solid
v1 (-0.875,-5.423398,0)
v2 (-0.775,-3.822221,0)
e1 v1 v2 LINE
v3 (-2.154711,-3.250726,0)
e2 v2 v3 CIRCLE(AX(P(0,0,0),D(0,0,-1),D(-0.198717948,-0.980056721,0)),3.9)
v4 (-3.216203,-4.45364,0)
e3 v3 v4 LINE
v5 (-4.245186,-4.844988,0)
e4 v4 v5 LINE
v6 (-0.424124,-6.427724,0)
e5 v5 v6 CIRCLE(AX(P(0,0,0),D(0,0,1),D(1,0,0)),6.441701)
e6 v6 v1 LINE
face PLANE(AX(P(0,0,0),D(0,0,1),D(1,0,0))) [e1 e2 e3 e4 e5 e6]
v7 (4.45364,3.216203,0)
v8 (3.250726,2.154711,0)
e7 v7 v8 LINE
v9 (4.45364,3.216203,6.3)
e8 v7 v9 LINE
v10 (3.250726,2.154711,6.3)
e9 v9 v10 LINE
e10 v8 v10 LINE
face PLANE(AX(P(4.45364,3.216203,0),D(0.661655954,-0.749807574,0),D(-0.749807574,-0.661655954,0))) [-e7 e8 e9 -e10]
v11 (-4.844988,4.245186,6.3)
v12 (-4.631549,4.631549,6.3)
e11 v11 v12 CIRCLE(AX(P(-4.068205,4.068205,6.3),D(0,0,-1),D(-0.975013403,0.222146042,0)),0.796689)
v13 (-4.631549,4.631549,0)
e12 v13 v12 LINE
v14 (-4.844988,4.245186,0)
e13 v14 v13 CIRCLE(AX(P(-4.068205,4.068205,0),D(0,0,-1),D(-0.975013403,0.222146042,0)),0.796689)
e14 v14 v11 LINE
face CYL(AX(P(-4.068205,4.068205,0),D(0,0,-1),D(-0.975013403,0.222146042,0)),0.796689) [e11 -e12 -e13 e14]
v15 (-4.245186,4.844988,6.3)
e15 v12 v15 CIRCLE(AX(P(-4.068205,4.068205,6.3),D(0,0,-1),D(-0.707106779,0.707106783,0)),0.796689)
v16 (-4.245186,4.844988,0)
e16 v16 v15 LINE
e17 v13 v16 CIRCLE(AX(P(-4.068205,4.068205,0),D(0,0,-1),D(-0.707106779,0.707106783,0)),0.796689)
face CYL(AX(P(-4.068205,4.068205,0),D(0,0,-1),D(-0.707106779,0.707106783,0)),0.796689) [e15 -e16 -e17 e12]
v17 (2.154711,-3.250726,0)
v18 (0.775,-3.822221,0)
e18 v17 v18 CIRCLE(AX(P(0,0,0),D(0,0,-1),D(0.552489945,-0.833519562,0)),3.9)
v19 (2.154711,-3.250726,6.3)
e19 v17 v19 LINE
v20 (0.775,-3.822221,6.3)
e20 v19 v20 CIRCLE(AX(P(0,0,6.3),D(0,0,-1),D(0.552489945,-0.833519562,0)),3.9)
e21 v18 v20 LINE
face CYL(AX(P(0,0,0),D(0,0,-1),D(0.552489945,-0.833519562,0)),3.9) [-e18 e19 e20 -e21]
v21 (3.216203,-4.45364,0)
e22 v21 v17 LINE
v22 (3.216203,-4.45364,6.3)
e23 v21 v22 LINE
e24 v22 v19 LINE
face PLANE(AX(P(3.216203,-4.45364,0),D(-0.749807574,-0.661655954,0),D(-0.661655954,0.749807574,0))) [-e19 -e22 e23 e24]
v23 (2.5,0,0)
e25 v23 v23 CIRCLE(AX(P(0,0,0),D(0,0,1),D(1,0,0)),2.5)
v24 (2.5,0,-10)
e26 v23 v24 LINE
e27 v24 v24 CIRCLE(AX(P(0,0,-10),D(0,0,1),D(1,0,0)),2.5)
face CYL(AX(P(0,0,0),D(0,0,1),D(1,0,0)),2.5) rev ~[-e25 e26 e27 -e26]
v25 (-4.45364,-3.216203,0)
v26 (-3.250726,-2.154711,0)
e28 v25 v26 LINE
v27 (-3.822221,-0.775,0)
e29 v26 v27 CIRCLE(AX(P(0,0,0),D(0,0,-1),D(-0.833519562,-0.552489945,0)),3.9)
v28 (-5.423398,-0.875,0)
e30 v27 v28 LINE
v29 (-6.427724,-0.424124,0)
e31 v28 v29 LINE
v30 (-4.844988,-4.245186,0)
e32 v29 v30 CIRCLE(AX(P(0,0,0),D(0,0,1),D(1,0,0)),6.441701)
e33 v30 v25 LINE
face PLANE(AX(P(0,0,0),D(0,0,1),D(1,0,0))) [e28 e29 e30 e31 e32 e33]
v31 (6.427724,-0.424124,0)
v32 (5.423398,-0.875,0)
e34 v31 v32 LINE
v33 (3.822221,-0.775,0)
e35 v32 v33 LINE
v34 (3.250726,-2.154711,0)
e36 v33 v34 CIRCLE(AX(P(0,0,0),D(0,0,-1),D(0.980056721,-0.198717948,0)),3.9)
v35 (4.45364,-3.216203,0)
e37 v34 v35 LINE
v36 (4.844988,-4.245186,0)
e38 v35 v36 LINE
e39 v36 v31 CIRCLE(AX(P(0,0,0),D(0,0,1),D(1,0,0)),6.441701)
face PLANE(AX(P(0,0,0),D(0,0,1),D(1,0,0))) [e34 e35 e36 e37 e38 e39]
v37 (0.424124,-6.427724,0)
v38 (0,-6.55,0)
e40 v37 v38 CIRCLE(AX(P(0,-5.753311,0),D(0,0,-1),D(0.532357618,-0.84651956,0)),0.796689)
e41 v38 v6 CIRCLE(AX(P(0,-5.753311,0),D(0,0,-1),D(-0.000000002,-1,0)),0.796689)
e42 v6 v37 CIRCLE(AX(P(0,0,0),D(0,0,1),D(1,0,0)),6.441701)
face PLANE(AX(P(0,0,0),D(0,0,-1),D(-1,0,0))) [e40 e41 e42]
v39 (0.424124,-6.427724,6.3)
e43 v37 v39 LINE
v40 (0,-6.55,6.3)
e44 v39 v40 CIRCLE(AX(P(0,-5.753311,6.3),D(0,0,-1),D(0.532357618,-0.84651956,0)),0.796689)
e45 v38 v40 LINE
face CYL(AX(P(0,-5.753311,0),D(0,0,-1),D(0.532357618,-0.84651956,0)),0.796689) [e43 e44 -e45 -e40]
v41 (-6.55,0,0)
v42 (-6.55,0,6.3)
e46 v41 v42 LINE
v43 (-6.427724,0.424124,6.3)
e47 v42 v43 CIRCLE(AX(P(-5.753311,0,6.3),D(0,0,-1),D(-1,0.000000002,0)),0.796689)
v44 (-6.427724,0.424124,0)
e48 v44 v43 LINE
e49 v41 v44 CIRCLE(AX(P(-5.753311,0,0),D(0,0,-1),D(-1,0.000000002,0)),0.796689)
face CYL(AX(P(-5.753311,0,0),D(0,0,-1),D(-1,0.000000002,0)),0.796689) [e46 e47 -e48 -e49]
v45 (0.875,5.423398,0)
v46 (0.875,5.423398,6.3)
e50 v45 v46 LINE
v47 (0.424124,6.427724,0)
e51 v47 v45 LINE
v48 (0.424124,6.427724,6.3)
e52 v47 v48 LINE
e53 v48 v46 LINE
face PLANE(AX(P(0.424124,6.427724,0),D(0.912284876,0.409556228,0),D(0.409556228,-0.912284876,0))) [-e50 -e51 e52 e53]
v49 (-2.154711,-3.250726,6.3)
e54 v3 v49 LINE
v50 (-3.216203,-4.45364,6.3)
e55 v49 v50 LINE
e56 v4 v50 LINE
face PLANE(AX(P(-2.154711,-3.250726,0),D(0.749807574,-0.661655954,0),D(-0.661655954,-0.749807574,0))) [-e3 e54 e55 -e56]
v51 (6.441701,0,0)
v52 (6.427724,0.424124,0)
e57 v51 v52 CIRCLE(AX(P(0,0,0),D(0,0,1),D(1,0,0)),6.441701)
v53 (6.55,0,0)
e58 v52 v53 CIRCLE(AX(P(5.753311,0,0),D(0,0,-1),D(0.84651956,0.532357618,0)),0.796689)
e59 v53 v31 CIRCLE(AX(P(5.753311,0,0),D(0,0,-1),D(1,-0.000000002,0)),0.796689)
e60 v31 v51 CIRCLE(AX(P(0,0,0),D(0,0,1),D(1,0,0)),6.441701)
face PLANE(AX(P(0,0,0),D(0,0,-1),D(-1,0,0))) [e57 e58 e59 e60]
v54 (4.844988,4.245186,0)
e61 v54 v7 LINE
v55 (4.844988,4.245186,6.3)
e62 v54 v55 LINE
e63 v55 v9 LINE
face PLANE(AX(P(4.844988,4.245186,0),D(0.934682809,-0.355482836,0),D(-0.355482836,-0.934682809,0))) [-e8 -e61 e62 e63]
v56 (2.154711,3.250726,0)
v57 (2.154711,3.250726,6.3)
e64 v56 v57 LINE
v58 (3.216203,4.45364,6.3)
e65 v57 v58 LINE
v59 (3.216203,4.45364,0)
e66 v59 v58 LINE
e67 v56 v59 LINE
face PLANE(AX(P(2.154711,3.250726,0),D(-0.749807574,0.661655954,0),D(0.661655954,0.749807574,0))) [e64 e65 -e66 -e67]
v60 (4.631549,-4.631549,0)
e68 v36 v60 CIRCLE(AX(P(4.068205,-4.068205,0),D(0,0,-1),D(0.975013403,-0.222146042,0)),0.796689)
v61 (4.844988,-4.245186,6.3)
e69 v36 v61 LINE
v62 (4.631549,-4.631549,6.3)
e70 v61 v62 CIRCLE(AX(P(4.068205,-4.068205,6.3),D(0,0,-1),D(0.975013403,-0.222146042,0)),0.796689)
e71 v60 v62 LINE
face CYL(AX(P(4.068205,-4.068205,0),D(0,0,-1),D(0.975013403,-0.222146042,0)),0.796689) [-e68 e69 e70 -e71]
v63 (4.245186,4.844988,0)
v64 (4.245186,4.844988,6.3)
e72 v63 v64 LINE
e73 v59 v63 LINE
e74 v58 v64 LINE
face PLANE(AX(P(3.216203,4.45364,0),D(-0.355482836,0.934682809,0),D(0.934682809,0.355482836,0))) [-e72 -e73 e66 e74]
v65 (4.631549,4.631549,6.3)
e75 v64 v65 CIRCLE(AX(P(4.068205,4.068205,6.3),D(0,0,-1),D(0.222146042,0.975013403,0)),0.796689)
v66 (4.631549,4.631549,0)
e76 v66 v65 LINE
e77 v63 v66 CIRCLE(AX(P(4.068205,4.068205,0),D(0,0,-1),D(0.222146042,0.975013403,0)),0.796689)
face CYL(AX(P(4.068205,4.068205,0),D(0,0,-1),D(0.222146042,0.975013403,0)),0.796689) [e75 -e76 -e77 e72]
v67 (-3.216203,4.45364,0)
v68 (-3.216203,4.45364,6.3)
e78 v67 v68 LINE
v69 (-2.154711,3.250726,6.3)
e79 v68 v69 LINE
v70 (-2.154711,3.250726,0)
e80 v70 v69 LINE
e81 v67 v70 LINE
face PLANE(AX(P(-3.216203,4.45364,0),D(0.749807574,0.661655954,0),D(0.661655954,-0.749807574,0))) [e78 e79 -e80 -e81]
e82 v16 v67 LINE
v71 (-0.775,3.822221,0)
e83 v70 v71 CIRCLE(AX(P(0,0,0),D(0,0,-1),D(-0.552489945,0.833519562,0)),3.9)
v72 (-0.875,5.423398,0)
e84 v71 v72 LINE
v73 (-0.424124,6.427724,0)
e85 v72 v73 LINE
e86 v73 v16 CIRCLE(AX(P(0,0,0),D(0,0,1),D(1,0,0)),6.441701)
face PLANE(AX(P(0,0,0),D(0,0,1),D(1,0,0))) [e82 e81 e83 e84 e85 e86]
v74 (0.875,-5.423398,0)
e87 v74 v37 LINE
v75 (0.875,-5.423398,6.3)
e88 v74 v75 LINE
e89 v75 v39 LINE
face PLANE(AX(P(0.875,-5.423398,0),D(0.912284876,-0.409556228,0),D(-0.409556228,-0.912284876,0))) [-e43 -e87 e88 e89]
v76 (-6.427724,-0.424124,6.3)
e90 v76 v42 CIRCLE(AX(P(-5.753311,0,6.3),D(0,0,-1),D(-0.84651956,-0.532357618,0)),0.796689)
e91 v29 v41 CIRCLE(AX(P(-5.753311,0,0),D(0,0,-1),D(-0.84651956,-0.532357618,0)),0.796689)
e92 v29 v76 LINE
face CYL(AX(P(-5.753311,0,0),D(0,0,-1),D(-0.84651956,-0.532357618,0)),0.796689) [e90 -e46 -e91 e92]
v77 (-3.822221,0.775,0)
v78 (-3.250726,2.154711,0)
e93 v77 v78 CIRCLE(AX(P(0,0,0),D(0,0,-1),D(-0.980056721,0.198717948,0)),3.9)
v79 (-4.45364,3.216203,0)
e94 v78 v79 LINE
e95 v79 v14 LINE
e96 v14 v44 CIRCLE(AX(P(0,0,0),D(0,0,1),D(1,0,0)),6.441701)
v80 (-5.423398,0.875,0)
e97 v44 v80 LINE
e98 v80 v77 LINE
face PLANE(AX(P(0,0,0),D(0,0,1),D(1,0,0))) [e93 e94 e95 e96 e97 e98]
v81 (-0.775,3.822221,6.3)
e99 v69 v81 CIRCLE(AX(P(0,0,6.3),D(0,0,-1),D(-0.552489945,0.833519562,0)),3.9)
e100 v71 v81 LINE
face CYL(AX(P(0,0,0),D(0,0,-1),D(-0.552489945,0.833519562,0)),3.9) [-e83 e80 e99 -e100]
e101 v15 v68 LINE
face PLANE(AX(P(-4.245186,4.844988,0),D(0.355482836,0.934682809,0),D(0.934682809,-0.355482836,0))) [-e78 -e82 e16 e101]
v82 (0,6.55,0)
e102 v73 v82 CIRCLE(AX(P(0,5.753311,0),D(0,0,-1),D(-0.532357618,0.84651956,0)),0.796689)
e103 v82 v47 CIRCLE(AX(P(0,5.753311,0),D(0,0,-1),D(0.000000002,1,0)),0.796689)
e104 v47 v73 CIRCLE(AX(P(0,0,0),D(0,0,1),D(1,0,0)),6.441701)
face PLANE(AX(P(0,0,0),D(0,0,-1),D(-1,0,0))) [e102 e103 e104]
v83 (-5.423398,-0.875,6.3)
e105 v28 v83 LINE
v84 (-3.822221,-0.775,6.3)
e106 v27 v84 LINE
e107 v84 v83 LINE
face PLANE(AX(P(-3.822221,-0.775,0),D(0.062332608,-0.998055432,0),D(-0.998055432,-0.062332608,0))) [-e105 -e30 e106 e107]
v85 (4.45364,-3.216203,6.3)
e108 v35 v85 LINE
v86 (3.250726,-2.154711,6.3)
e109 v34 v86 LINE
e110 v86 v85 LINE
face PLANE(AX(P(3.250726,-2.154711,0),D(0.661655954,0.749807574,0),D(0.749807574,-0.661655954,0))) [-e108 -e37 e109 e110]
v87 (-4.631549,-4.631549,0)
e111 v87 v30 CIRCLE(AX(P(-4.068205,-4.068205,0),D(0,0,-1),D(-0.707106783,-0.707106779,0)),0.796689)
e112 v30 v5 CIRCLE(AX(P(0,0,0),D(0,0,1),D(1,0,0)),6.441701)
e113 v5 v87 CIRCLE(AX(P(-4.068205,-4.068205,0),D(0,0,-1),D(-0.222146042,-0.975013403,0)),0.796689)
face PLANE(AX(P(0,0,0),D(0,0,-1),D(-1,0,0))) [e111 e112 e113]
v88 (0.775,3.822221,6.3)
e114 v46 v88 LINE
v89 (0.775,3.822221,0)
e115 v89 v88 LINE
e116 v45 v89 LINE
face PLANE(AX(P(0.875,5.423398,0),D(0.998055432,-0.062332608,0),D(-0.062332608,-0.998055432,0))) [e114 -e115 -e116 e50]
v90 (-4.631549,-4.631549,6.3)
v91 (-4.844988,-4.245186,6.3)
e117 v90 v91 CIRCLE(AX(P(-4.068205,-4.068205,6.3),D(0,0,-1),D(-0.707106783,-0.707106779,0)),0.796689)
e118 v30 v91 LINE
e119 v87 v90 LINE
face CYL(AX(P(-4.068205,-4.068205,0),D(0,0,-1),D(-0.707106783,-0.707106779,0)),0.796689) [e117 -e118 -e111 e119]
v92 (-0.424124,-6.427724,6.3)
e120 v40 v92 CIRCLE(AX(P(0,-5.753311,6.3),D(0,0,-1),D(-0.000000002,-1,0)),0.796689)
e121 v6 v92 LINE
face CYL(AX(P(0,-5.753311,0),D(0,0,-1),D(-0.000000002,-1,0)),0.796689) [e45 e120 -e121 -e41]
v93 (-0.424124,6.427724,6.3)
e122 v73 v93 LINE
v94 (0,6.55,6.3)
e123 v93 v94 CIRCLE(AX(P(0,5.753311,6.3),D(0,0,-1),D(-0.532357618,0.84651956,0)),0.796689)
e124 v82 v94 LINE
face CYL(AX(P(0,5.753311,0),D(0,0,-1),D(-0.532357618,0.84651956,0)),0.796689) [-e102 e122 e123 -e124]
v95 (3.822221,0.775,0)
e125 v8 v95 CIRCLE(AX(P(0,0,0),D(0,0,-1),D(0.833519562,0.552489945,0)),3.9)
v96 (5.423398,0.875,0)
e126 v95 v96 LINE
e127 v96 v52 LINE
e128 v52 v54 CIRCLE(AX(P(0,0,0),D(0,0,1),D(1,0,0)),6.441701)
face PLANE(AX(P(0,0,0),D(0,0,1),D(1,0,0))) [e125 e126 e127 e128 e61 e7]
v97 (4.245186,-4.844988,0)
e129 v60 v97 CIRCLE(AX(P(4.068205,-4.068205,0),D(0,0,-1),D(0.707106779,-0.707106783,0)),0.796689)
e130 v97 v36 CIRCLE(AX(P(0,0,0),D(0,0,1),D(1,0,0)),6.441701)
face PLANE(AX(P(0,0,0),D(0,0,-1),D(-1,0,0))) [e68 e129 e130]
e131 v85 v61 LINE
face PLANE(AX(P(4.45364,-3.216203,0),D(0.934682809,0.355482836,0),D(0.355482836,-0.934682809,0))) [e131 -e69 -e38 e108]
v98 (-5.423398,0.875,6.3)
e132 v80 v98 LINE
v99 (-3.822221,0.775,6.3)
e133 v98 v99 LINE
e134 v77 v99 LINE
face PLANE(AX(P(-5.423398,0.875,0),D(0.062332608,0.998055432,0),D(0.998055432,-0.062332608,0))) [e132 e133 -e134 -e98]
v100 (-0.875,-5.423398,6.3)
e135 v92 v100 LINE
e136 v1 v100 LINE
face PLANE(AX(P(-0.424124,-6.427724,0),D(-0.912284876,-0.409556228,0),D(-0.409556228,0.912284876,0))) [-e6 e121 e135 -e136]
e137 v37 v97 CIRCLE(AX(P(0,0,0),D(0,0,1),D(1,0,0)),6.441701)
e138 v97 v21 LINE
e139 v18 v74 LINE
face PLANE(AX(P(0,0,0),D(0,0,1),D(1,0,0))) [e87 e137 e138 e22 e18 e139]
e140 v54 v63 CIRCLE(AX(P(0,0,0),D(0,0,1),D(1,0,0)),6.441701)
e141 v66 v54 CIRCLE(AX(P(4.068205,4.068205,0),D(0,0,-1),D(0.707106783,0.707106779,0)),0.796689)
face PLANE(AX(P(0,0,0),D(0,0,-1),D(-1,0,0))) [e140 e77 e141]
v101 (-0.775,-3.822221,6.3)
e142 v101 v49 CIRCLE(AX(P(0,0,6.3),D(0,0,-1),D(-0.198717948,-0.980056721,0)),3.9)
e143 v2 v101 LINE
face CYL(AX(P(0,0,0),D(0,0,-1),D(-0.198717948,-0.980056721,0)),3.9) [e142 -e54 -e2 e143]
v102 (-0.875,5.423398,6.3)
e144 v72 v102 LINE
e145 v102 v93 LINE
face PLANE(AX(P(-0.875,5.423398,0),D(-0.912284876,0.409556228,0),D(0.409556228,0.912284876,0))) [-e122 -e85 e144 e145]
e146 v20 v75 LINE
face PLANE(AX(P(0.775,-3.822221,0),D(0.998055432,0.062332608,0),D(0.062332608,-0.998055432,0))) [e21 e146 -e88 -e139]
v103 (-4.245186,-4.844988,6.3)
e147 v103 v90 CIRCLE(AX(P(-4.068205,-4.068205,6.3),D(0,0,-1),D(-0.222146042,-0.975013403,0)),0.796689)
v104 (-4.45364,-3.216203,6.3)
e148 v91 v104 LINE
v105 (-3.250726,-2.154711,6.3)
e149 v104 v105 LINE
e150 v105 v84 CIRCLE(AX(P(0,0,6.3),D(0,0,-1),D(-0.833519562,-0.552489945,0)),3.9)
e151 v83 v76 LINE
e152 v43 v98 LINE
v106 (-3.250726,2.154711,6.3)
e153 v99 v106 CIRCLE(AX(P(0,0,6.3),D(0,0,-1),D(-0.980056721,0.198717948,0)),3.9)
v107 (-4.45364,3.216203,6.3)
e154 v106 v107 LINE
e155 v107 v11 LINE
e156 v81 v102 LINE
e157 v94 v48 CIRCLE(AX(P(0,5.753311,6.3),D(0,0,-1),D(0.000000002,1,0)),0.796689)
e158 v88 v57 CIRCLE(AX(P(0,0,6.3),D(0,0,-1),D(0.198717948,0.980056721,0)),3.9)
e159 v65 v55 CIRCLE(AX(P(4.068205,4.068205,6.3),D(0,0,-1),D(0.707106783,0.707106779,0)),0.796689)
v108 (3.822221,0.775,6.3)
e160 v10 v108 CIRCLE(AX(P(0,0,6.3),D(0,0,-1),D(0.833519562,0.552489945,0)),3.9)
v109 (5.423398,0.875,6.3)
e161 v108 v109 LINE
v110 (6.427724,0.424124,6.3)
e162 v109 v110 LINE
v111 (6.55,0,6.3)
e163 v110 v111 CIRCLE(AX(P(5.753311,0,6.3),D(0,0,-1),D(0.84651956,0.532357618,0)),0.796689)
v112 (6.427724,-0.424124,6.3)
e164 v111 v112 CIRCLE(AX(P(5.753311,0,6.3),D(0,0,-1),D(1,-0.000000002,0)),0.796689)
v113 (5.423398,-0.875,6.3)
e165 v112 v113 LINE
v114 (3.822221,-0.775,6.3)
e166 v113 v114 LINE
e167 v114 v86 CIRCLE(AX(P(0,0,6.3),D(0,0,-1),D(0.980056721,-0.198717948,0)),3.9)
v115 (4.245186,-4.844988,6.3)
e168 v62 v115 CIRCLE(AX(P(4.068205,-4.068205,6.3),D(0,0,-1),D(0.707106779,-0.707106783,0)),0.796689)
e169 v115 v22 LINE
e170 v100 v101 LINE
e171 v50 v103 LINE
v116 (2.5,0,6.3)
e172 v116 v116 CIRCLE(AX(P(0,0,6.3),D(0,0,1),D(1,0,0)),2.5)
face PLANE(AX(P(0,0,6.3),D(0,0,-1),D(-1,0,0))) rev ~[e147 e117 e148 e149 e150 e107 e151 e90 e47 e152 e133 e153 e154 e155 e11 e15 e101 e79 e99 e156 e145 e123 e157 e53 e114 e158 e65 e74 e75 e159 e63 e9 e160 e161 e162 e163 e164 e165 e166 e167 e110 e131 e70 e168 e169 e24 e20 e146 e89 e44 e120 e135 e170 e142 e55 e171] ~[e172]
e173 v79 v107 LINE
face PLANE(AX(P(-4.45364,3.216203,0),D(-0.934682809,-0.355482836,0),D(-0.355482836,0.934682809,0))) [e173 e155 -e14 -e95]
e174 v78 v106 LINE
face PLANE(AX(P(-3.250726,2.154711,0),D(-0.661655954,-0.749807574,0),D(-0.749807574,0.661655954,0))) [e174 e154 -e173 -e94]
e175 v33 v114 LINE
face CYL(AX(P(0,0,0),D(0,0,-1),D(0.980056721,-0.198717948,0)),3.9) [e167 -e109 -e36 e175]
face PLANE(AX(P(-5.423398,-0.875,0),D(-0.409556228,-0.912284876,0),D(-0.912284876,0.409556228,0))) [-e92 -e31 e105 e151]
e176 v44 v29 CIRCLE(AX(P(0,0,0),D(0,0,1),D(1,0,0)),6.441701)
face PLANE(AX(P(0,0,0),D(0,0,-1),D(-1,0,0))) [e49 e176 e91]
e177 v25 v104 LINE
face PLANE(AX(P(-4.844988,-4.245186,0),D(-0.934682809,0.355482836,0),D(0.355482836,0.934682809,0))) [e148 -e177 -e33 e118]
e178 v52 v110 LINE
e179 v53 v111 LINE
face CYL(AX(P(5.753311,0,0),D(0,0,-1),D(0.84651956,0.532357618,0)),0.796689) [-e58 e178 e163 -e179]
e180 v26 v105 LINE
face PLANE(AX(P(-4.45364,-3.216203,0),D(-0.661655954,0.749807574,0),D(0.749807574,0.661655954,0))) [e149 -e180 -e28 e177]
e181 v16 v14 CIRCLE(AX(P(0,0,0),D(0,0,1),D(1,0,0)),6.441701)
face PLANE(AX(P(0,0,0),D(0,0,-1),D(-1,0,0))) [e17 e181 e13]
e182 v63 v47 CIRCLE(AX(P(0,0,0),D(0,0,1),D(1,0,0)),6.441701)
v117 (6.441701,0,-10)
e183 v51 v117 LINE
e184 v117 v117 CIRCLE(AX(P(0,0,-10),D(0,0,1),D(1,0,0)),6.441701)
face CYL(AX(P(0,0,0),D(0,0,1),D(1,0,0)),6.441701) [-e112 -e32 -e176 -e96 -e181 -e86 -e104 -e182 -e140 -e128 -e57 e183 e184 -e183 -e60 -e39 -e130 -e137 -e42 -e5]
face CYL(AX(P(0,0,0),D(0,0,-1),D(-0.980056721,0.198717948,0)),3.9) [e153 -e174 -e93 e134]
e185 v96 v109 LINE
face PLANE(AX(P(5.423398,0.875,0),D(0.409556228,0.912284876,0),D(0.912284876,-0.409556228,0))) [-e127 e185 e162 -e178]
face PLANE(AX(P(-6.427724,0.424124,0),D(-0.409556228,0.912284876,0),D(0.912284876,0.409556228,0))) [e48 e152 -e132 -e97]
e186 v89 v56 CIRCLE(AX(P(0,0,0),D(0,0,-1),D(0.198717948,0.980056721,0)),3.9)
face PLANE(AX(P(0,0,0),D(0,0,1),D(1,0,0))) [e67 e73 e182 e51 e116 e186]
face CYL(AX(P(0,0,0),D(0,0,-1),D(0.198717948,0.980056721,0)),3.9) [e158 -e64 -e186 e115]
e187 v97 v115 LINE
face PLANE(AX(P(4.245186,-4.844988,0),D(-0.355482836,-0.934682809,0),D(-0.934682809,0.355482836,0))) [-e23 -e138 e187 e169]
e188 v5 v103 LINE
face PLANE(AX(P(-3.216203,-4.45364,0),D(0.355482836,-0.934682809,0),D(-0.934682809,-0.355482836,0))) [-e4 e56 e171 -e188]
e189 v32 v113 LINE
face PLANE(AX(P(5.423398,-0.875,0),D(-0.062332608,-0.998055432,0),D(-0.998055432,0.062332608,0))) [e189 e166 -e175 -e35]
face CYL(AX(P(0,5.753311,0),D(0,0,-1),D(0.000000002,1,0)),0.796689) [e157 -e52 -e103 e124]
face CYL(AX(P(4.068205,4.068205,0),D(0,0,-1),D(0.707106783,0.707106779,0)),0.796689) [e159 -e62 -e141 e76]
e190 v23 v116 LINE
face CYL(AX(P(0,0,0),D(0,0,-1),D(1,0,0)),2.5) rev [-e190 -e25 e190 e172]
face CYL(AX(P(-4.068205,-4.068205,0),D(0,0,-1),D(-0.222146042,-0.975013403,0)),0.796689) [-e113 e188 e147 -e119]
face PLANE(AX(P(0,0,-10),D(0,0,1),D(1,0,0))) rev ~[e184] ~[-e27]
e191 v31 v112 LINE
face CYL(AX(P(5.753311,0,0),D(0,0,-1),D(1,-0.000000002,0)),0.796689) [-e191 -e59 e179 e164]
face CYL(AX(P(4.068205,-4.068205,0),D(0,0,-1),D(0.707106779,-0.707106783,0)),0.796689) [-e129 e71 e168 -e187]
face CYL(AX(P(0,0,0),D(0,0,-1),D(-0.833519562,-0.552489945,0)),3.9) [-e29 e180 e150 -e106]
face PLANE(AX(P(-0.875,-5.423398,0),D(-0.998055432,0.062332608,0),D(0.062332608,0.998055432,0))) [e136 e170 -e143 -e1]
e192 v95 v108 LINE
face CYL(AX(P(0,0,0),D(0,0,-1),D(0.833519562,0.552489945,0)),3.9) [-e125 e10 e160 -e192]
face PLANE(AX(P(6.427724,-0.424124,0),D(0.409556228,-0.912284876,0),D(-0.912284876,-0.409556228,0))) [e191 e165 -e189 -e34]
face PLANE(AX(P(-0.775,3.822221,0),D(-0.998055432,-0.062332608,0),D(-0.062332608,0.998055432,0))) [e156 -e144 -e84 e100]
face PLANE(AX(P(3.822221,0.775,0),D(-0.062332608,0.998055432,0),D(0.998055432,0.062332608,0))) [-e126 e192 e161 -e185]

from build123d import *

# Parameters (mm, degrees)
SZKIC1_R                    = 2.5
DODANIE_WYCI_GNI_CIE1_DEPTH = 6.3
SKETCH1_R                   = 6.441701171
SKETCH1_R_2                 = 2.5
BOSS_EXTRUDE1_DEPTH         = 10


with BuildPart() as part:
    # Szkic1 → Dodanie-wyciągnięcie1 (new body)
    with BuildSketch(Plane.XY):
        with BuildLine():
            Line((0.875, 5.423398291), (0.775, 3.822221213))
            ThreePointArc((0.775, 3.822221213), (1.492465386, 3.603130177), (2.154710783, 3.250726294))
            Line((2.154710783, 3.250726294), (3.216203275, 4.453640142))
            Line((3.216203275, 4.453640142), (4.245186445, 4.844987722))
            ThreePointArc((4.245186445, 4.844987722), (4.453444634, 4.765560203), (4.631549417, 4.631549417))
            ThreePointArc((4.631549417, 4.631549417), (4.765560203, 4.453444634), (4.844987722, 4.245186445))
            Line((4.844987722, 4.245186445), (4.453640142, 3.216203275))
            Line((4.453640142, 3.216203275), (3.250726294, 2.154710783))
            ThreePointArc((3.250726294, 2.154710783), (3.603130177, 1.492465386), (3.822221213, 0.775))
            Line((3.822221213, 0.775), (5.423398291, 0.875))
            Line((5.423398291, 0.875), (6.427723795, 0.424123551))
            ThreePointArc((6.427723795, 0.424123551), (6.518820836, 0.220699035), (6.55, 0))
            ThreePointArc((6.55, 0), (6.518820836, -0.220699035), (6.427723795, -0.424123551))
            Line((6.427723795, -0.424123551), (5.423398291, -0.875))
            Line((5.423398291, -0.875), (3.822221213, -0.775))
            ThreePointArc((3.822221213, -0.775), (3.603130177, -1.492465386), (3.250726294, -2.154710783))
            Line((3.250726294, -2.154710783), (4.453640142, -3.216203275))
            Line((4.453640142, -3.216203275), (4.844987722, -4.245186445))
            ThreePointArc((4.844987722, -4.245186445), (4.765560203, -4.453444634), (4.631549417, -4.631549417))
            ThreePointArc((4.631549417, -4.631549417), (4.453444634, -4.765560203), (4.245186445, -4.844987722))
            Line((4.245186445, -4.844987722), (3.216203275, -4.453640142))
            Line((3.216203275, -4.453640142), (2.154710783, -3.250726294))
            ThreePointArc((2.154710783, -3.250726294), (1.492465386, -3.603130177), (0.775, -3.822221213))
            Line((0.775, -3.822221213), (0.875, -5.423398291))
            Line((0.875, -5.423398291), (0.424123551, -6.427723795))
            ThreePointArc((0.424123551, -6.427723795), (0.220699035, -6.518820836), (0, -6.55))
            ThreePointArc((0, -6.55), (-0.220699035, -6.518820836), (-0.424123551, -6.427723795))
            Line((-0.424123551, -6.427723795), (-0.875, -5.423398291))
            Line((-0.875, -5.423398291), (-0.775, -3.822221213))
            ThreePointArc((-0.775, -3.822221213), (-1.492465386, -3.603130177), (-2.154710783, -3.250726294))
            Line((-2.154710783, -3.250726294), (-3.216203275, -4.453640142))
            Line((-3.216203275, -4.453640142), (-4.245186445, -4.844987722))
            ThreePointArc((-4.245186445, -4.844987722), (-4.453444634, -4.765560203), (-4.631549417, -4.631549417))
            ThreePointArc((-4.631549417, -4.631549417), (-4.765560203, -4.453444634), (-4.844987722, -4.245186445))
            Line((-4.844987722, -4.245186445), (-4.453640142, -3.216203275))
            Line((-4.453640142, -3.216203275), (-3.250726294, -2.154710783))
            ThreePointArc((-3.250726294, -2.154710783), (-3.603130177, -1.492465386), (-3.822221213, -0.775))
            Line((-3.822221213, -0.775), (-5.423398291, -0.875))
            Line((-5.423398291, -0.875), (-6.427723795, -0.424123551))
            ThreePointArc((-6.427723795, -0.424123551), (-6.518820836, -0.220699035), (-6.55, 0))
            ThreePointArc((-6.55, 0), (-6.518820836, 0.220699035), (-6.427723795, 0.424123551))
            Line((-6.427723795, 0.424123551), (-5.423398291, 0.875))
            Line((-5.423398291, 0.875), (-3.822221213, 0.775))
            ThreePointArc((-3.822221213, 0.775), (-3.603130177, 1.492465386), (-3.250726294, 2.154710783))
            Line((-3.250726294, 2.154710783), (-4.453640142, 3.216203275))
            Line((-4.453640142, 3.216203275), (-4.844987722, 4.245186445))
            ThreePointArc((-4.844987722, 4.245186445), (-4.765560203, 4.453444634), (-4.631549417, 4.631549417))
            ThreePointArc((-4.631549417, 4.631549417), (-4.453444634, 4.765560203), (-4.245186445, 4.844987722))
            Line((-4.245186445, 4.844987722), (-3.216203275, 4.453640142))
            Line((-3.216203275, 4.453640142), (-2.154710783, 3.250726294))
            ThreePointArc((-2.154710783, 3.250726294), (-1.492465386, 3.603130177), (-0.775, 3.822221213))
            Line((-0.775, 3.822221213), (-0.875, 5.423398291))
            Line((-0.875, 5.423398291), (-0.424123551, 6.427723795))
            ThreePointArc((-0.424123551, 6.427723795), (-0.220699035, 6.518820836), (0, 6.55))
            ThreePointArc((0, 6.55), (0.220699035, 6.518820836), (0.424123551, 6.427723795))
            Line((0.424123551, 6.427723795), (0.875, 5.423398291))
        make_face()
        Circle(SZKIC1_R, mode=Mode.SUBTRACT)
    extrude(amount=DODANIE_WYCI_GNI_CIE1_DEPTH)

    # Sketch1 → Boss-Extrude1 (add)
    with BuildSketch(Plane.XY):
        Circle(SKETCH1_R)
        Circle(SKETCH1_R_2, mode=Mode.SUBTRACT)
    extrude(amount=-BOSS_EXTRUDE1_DEPTH)


solid = part.part
